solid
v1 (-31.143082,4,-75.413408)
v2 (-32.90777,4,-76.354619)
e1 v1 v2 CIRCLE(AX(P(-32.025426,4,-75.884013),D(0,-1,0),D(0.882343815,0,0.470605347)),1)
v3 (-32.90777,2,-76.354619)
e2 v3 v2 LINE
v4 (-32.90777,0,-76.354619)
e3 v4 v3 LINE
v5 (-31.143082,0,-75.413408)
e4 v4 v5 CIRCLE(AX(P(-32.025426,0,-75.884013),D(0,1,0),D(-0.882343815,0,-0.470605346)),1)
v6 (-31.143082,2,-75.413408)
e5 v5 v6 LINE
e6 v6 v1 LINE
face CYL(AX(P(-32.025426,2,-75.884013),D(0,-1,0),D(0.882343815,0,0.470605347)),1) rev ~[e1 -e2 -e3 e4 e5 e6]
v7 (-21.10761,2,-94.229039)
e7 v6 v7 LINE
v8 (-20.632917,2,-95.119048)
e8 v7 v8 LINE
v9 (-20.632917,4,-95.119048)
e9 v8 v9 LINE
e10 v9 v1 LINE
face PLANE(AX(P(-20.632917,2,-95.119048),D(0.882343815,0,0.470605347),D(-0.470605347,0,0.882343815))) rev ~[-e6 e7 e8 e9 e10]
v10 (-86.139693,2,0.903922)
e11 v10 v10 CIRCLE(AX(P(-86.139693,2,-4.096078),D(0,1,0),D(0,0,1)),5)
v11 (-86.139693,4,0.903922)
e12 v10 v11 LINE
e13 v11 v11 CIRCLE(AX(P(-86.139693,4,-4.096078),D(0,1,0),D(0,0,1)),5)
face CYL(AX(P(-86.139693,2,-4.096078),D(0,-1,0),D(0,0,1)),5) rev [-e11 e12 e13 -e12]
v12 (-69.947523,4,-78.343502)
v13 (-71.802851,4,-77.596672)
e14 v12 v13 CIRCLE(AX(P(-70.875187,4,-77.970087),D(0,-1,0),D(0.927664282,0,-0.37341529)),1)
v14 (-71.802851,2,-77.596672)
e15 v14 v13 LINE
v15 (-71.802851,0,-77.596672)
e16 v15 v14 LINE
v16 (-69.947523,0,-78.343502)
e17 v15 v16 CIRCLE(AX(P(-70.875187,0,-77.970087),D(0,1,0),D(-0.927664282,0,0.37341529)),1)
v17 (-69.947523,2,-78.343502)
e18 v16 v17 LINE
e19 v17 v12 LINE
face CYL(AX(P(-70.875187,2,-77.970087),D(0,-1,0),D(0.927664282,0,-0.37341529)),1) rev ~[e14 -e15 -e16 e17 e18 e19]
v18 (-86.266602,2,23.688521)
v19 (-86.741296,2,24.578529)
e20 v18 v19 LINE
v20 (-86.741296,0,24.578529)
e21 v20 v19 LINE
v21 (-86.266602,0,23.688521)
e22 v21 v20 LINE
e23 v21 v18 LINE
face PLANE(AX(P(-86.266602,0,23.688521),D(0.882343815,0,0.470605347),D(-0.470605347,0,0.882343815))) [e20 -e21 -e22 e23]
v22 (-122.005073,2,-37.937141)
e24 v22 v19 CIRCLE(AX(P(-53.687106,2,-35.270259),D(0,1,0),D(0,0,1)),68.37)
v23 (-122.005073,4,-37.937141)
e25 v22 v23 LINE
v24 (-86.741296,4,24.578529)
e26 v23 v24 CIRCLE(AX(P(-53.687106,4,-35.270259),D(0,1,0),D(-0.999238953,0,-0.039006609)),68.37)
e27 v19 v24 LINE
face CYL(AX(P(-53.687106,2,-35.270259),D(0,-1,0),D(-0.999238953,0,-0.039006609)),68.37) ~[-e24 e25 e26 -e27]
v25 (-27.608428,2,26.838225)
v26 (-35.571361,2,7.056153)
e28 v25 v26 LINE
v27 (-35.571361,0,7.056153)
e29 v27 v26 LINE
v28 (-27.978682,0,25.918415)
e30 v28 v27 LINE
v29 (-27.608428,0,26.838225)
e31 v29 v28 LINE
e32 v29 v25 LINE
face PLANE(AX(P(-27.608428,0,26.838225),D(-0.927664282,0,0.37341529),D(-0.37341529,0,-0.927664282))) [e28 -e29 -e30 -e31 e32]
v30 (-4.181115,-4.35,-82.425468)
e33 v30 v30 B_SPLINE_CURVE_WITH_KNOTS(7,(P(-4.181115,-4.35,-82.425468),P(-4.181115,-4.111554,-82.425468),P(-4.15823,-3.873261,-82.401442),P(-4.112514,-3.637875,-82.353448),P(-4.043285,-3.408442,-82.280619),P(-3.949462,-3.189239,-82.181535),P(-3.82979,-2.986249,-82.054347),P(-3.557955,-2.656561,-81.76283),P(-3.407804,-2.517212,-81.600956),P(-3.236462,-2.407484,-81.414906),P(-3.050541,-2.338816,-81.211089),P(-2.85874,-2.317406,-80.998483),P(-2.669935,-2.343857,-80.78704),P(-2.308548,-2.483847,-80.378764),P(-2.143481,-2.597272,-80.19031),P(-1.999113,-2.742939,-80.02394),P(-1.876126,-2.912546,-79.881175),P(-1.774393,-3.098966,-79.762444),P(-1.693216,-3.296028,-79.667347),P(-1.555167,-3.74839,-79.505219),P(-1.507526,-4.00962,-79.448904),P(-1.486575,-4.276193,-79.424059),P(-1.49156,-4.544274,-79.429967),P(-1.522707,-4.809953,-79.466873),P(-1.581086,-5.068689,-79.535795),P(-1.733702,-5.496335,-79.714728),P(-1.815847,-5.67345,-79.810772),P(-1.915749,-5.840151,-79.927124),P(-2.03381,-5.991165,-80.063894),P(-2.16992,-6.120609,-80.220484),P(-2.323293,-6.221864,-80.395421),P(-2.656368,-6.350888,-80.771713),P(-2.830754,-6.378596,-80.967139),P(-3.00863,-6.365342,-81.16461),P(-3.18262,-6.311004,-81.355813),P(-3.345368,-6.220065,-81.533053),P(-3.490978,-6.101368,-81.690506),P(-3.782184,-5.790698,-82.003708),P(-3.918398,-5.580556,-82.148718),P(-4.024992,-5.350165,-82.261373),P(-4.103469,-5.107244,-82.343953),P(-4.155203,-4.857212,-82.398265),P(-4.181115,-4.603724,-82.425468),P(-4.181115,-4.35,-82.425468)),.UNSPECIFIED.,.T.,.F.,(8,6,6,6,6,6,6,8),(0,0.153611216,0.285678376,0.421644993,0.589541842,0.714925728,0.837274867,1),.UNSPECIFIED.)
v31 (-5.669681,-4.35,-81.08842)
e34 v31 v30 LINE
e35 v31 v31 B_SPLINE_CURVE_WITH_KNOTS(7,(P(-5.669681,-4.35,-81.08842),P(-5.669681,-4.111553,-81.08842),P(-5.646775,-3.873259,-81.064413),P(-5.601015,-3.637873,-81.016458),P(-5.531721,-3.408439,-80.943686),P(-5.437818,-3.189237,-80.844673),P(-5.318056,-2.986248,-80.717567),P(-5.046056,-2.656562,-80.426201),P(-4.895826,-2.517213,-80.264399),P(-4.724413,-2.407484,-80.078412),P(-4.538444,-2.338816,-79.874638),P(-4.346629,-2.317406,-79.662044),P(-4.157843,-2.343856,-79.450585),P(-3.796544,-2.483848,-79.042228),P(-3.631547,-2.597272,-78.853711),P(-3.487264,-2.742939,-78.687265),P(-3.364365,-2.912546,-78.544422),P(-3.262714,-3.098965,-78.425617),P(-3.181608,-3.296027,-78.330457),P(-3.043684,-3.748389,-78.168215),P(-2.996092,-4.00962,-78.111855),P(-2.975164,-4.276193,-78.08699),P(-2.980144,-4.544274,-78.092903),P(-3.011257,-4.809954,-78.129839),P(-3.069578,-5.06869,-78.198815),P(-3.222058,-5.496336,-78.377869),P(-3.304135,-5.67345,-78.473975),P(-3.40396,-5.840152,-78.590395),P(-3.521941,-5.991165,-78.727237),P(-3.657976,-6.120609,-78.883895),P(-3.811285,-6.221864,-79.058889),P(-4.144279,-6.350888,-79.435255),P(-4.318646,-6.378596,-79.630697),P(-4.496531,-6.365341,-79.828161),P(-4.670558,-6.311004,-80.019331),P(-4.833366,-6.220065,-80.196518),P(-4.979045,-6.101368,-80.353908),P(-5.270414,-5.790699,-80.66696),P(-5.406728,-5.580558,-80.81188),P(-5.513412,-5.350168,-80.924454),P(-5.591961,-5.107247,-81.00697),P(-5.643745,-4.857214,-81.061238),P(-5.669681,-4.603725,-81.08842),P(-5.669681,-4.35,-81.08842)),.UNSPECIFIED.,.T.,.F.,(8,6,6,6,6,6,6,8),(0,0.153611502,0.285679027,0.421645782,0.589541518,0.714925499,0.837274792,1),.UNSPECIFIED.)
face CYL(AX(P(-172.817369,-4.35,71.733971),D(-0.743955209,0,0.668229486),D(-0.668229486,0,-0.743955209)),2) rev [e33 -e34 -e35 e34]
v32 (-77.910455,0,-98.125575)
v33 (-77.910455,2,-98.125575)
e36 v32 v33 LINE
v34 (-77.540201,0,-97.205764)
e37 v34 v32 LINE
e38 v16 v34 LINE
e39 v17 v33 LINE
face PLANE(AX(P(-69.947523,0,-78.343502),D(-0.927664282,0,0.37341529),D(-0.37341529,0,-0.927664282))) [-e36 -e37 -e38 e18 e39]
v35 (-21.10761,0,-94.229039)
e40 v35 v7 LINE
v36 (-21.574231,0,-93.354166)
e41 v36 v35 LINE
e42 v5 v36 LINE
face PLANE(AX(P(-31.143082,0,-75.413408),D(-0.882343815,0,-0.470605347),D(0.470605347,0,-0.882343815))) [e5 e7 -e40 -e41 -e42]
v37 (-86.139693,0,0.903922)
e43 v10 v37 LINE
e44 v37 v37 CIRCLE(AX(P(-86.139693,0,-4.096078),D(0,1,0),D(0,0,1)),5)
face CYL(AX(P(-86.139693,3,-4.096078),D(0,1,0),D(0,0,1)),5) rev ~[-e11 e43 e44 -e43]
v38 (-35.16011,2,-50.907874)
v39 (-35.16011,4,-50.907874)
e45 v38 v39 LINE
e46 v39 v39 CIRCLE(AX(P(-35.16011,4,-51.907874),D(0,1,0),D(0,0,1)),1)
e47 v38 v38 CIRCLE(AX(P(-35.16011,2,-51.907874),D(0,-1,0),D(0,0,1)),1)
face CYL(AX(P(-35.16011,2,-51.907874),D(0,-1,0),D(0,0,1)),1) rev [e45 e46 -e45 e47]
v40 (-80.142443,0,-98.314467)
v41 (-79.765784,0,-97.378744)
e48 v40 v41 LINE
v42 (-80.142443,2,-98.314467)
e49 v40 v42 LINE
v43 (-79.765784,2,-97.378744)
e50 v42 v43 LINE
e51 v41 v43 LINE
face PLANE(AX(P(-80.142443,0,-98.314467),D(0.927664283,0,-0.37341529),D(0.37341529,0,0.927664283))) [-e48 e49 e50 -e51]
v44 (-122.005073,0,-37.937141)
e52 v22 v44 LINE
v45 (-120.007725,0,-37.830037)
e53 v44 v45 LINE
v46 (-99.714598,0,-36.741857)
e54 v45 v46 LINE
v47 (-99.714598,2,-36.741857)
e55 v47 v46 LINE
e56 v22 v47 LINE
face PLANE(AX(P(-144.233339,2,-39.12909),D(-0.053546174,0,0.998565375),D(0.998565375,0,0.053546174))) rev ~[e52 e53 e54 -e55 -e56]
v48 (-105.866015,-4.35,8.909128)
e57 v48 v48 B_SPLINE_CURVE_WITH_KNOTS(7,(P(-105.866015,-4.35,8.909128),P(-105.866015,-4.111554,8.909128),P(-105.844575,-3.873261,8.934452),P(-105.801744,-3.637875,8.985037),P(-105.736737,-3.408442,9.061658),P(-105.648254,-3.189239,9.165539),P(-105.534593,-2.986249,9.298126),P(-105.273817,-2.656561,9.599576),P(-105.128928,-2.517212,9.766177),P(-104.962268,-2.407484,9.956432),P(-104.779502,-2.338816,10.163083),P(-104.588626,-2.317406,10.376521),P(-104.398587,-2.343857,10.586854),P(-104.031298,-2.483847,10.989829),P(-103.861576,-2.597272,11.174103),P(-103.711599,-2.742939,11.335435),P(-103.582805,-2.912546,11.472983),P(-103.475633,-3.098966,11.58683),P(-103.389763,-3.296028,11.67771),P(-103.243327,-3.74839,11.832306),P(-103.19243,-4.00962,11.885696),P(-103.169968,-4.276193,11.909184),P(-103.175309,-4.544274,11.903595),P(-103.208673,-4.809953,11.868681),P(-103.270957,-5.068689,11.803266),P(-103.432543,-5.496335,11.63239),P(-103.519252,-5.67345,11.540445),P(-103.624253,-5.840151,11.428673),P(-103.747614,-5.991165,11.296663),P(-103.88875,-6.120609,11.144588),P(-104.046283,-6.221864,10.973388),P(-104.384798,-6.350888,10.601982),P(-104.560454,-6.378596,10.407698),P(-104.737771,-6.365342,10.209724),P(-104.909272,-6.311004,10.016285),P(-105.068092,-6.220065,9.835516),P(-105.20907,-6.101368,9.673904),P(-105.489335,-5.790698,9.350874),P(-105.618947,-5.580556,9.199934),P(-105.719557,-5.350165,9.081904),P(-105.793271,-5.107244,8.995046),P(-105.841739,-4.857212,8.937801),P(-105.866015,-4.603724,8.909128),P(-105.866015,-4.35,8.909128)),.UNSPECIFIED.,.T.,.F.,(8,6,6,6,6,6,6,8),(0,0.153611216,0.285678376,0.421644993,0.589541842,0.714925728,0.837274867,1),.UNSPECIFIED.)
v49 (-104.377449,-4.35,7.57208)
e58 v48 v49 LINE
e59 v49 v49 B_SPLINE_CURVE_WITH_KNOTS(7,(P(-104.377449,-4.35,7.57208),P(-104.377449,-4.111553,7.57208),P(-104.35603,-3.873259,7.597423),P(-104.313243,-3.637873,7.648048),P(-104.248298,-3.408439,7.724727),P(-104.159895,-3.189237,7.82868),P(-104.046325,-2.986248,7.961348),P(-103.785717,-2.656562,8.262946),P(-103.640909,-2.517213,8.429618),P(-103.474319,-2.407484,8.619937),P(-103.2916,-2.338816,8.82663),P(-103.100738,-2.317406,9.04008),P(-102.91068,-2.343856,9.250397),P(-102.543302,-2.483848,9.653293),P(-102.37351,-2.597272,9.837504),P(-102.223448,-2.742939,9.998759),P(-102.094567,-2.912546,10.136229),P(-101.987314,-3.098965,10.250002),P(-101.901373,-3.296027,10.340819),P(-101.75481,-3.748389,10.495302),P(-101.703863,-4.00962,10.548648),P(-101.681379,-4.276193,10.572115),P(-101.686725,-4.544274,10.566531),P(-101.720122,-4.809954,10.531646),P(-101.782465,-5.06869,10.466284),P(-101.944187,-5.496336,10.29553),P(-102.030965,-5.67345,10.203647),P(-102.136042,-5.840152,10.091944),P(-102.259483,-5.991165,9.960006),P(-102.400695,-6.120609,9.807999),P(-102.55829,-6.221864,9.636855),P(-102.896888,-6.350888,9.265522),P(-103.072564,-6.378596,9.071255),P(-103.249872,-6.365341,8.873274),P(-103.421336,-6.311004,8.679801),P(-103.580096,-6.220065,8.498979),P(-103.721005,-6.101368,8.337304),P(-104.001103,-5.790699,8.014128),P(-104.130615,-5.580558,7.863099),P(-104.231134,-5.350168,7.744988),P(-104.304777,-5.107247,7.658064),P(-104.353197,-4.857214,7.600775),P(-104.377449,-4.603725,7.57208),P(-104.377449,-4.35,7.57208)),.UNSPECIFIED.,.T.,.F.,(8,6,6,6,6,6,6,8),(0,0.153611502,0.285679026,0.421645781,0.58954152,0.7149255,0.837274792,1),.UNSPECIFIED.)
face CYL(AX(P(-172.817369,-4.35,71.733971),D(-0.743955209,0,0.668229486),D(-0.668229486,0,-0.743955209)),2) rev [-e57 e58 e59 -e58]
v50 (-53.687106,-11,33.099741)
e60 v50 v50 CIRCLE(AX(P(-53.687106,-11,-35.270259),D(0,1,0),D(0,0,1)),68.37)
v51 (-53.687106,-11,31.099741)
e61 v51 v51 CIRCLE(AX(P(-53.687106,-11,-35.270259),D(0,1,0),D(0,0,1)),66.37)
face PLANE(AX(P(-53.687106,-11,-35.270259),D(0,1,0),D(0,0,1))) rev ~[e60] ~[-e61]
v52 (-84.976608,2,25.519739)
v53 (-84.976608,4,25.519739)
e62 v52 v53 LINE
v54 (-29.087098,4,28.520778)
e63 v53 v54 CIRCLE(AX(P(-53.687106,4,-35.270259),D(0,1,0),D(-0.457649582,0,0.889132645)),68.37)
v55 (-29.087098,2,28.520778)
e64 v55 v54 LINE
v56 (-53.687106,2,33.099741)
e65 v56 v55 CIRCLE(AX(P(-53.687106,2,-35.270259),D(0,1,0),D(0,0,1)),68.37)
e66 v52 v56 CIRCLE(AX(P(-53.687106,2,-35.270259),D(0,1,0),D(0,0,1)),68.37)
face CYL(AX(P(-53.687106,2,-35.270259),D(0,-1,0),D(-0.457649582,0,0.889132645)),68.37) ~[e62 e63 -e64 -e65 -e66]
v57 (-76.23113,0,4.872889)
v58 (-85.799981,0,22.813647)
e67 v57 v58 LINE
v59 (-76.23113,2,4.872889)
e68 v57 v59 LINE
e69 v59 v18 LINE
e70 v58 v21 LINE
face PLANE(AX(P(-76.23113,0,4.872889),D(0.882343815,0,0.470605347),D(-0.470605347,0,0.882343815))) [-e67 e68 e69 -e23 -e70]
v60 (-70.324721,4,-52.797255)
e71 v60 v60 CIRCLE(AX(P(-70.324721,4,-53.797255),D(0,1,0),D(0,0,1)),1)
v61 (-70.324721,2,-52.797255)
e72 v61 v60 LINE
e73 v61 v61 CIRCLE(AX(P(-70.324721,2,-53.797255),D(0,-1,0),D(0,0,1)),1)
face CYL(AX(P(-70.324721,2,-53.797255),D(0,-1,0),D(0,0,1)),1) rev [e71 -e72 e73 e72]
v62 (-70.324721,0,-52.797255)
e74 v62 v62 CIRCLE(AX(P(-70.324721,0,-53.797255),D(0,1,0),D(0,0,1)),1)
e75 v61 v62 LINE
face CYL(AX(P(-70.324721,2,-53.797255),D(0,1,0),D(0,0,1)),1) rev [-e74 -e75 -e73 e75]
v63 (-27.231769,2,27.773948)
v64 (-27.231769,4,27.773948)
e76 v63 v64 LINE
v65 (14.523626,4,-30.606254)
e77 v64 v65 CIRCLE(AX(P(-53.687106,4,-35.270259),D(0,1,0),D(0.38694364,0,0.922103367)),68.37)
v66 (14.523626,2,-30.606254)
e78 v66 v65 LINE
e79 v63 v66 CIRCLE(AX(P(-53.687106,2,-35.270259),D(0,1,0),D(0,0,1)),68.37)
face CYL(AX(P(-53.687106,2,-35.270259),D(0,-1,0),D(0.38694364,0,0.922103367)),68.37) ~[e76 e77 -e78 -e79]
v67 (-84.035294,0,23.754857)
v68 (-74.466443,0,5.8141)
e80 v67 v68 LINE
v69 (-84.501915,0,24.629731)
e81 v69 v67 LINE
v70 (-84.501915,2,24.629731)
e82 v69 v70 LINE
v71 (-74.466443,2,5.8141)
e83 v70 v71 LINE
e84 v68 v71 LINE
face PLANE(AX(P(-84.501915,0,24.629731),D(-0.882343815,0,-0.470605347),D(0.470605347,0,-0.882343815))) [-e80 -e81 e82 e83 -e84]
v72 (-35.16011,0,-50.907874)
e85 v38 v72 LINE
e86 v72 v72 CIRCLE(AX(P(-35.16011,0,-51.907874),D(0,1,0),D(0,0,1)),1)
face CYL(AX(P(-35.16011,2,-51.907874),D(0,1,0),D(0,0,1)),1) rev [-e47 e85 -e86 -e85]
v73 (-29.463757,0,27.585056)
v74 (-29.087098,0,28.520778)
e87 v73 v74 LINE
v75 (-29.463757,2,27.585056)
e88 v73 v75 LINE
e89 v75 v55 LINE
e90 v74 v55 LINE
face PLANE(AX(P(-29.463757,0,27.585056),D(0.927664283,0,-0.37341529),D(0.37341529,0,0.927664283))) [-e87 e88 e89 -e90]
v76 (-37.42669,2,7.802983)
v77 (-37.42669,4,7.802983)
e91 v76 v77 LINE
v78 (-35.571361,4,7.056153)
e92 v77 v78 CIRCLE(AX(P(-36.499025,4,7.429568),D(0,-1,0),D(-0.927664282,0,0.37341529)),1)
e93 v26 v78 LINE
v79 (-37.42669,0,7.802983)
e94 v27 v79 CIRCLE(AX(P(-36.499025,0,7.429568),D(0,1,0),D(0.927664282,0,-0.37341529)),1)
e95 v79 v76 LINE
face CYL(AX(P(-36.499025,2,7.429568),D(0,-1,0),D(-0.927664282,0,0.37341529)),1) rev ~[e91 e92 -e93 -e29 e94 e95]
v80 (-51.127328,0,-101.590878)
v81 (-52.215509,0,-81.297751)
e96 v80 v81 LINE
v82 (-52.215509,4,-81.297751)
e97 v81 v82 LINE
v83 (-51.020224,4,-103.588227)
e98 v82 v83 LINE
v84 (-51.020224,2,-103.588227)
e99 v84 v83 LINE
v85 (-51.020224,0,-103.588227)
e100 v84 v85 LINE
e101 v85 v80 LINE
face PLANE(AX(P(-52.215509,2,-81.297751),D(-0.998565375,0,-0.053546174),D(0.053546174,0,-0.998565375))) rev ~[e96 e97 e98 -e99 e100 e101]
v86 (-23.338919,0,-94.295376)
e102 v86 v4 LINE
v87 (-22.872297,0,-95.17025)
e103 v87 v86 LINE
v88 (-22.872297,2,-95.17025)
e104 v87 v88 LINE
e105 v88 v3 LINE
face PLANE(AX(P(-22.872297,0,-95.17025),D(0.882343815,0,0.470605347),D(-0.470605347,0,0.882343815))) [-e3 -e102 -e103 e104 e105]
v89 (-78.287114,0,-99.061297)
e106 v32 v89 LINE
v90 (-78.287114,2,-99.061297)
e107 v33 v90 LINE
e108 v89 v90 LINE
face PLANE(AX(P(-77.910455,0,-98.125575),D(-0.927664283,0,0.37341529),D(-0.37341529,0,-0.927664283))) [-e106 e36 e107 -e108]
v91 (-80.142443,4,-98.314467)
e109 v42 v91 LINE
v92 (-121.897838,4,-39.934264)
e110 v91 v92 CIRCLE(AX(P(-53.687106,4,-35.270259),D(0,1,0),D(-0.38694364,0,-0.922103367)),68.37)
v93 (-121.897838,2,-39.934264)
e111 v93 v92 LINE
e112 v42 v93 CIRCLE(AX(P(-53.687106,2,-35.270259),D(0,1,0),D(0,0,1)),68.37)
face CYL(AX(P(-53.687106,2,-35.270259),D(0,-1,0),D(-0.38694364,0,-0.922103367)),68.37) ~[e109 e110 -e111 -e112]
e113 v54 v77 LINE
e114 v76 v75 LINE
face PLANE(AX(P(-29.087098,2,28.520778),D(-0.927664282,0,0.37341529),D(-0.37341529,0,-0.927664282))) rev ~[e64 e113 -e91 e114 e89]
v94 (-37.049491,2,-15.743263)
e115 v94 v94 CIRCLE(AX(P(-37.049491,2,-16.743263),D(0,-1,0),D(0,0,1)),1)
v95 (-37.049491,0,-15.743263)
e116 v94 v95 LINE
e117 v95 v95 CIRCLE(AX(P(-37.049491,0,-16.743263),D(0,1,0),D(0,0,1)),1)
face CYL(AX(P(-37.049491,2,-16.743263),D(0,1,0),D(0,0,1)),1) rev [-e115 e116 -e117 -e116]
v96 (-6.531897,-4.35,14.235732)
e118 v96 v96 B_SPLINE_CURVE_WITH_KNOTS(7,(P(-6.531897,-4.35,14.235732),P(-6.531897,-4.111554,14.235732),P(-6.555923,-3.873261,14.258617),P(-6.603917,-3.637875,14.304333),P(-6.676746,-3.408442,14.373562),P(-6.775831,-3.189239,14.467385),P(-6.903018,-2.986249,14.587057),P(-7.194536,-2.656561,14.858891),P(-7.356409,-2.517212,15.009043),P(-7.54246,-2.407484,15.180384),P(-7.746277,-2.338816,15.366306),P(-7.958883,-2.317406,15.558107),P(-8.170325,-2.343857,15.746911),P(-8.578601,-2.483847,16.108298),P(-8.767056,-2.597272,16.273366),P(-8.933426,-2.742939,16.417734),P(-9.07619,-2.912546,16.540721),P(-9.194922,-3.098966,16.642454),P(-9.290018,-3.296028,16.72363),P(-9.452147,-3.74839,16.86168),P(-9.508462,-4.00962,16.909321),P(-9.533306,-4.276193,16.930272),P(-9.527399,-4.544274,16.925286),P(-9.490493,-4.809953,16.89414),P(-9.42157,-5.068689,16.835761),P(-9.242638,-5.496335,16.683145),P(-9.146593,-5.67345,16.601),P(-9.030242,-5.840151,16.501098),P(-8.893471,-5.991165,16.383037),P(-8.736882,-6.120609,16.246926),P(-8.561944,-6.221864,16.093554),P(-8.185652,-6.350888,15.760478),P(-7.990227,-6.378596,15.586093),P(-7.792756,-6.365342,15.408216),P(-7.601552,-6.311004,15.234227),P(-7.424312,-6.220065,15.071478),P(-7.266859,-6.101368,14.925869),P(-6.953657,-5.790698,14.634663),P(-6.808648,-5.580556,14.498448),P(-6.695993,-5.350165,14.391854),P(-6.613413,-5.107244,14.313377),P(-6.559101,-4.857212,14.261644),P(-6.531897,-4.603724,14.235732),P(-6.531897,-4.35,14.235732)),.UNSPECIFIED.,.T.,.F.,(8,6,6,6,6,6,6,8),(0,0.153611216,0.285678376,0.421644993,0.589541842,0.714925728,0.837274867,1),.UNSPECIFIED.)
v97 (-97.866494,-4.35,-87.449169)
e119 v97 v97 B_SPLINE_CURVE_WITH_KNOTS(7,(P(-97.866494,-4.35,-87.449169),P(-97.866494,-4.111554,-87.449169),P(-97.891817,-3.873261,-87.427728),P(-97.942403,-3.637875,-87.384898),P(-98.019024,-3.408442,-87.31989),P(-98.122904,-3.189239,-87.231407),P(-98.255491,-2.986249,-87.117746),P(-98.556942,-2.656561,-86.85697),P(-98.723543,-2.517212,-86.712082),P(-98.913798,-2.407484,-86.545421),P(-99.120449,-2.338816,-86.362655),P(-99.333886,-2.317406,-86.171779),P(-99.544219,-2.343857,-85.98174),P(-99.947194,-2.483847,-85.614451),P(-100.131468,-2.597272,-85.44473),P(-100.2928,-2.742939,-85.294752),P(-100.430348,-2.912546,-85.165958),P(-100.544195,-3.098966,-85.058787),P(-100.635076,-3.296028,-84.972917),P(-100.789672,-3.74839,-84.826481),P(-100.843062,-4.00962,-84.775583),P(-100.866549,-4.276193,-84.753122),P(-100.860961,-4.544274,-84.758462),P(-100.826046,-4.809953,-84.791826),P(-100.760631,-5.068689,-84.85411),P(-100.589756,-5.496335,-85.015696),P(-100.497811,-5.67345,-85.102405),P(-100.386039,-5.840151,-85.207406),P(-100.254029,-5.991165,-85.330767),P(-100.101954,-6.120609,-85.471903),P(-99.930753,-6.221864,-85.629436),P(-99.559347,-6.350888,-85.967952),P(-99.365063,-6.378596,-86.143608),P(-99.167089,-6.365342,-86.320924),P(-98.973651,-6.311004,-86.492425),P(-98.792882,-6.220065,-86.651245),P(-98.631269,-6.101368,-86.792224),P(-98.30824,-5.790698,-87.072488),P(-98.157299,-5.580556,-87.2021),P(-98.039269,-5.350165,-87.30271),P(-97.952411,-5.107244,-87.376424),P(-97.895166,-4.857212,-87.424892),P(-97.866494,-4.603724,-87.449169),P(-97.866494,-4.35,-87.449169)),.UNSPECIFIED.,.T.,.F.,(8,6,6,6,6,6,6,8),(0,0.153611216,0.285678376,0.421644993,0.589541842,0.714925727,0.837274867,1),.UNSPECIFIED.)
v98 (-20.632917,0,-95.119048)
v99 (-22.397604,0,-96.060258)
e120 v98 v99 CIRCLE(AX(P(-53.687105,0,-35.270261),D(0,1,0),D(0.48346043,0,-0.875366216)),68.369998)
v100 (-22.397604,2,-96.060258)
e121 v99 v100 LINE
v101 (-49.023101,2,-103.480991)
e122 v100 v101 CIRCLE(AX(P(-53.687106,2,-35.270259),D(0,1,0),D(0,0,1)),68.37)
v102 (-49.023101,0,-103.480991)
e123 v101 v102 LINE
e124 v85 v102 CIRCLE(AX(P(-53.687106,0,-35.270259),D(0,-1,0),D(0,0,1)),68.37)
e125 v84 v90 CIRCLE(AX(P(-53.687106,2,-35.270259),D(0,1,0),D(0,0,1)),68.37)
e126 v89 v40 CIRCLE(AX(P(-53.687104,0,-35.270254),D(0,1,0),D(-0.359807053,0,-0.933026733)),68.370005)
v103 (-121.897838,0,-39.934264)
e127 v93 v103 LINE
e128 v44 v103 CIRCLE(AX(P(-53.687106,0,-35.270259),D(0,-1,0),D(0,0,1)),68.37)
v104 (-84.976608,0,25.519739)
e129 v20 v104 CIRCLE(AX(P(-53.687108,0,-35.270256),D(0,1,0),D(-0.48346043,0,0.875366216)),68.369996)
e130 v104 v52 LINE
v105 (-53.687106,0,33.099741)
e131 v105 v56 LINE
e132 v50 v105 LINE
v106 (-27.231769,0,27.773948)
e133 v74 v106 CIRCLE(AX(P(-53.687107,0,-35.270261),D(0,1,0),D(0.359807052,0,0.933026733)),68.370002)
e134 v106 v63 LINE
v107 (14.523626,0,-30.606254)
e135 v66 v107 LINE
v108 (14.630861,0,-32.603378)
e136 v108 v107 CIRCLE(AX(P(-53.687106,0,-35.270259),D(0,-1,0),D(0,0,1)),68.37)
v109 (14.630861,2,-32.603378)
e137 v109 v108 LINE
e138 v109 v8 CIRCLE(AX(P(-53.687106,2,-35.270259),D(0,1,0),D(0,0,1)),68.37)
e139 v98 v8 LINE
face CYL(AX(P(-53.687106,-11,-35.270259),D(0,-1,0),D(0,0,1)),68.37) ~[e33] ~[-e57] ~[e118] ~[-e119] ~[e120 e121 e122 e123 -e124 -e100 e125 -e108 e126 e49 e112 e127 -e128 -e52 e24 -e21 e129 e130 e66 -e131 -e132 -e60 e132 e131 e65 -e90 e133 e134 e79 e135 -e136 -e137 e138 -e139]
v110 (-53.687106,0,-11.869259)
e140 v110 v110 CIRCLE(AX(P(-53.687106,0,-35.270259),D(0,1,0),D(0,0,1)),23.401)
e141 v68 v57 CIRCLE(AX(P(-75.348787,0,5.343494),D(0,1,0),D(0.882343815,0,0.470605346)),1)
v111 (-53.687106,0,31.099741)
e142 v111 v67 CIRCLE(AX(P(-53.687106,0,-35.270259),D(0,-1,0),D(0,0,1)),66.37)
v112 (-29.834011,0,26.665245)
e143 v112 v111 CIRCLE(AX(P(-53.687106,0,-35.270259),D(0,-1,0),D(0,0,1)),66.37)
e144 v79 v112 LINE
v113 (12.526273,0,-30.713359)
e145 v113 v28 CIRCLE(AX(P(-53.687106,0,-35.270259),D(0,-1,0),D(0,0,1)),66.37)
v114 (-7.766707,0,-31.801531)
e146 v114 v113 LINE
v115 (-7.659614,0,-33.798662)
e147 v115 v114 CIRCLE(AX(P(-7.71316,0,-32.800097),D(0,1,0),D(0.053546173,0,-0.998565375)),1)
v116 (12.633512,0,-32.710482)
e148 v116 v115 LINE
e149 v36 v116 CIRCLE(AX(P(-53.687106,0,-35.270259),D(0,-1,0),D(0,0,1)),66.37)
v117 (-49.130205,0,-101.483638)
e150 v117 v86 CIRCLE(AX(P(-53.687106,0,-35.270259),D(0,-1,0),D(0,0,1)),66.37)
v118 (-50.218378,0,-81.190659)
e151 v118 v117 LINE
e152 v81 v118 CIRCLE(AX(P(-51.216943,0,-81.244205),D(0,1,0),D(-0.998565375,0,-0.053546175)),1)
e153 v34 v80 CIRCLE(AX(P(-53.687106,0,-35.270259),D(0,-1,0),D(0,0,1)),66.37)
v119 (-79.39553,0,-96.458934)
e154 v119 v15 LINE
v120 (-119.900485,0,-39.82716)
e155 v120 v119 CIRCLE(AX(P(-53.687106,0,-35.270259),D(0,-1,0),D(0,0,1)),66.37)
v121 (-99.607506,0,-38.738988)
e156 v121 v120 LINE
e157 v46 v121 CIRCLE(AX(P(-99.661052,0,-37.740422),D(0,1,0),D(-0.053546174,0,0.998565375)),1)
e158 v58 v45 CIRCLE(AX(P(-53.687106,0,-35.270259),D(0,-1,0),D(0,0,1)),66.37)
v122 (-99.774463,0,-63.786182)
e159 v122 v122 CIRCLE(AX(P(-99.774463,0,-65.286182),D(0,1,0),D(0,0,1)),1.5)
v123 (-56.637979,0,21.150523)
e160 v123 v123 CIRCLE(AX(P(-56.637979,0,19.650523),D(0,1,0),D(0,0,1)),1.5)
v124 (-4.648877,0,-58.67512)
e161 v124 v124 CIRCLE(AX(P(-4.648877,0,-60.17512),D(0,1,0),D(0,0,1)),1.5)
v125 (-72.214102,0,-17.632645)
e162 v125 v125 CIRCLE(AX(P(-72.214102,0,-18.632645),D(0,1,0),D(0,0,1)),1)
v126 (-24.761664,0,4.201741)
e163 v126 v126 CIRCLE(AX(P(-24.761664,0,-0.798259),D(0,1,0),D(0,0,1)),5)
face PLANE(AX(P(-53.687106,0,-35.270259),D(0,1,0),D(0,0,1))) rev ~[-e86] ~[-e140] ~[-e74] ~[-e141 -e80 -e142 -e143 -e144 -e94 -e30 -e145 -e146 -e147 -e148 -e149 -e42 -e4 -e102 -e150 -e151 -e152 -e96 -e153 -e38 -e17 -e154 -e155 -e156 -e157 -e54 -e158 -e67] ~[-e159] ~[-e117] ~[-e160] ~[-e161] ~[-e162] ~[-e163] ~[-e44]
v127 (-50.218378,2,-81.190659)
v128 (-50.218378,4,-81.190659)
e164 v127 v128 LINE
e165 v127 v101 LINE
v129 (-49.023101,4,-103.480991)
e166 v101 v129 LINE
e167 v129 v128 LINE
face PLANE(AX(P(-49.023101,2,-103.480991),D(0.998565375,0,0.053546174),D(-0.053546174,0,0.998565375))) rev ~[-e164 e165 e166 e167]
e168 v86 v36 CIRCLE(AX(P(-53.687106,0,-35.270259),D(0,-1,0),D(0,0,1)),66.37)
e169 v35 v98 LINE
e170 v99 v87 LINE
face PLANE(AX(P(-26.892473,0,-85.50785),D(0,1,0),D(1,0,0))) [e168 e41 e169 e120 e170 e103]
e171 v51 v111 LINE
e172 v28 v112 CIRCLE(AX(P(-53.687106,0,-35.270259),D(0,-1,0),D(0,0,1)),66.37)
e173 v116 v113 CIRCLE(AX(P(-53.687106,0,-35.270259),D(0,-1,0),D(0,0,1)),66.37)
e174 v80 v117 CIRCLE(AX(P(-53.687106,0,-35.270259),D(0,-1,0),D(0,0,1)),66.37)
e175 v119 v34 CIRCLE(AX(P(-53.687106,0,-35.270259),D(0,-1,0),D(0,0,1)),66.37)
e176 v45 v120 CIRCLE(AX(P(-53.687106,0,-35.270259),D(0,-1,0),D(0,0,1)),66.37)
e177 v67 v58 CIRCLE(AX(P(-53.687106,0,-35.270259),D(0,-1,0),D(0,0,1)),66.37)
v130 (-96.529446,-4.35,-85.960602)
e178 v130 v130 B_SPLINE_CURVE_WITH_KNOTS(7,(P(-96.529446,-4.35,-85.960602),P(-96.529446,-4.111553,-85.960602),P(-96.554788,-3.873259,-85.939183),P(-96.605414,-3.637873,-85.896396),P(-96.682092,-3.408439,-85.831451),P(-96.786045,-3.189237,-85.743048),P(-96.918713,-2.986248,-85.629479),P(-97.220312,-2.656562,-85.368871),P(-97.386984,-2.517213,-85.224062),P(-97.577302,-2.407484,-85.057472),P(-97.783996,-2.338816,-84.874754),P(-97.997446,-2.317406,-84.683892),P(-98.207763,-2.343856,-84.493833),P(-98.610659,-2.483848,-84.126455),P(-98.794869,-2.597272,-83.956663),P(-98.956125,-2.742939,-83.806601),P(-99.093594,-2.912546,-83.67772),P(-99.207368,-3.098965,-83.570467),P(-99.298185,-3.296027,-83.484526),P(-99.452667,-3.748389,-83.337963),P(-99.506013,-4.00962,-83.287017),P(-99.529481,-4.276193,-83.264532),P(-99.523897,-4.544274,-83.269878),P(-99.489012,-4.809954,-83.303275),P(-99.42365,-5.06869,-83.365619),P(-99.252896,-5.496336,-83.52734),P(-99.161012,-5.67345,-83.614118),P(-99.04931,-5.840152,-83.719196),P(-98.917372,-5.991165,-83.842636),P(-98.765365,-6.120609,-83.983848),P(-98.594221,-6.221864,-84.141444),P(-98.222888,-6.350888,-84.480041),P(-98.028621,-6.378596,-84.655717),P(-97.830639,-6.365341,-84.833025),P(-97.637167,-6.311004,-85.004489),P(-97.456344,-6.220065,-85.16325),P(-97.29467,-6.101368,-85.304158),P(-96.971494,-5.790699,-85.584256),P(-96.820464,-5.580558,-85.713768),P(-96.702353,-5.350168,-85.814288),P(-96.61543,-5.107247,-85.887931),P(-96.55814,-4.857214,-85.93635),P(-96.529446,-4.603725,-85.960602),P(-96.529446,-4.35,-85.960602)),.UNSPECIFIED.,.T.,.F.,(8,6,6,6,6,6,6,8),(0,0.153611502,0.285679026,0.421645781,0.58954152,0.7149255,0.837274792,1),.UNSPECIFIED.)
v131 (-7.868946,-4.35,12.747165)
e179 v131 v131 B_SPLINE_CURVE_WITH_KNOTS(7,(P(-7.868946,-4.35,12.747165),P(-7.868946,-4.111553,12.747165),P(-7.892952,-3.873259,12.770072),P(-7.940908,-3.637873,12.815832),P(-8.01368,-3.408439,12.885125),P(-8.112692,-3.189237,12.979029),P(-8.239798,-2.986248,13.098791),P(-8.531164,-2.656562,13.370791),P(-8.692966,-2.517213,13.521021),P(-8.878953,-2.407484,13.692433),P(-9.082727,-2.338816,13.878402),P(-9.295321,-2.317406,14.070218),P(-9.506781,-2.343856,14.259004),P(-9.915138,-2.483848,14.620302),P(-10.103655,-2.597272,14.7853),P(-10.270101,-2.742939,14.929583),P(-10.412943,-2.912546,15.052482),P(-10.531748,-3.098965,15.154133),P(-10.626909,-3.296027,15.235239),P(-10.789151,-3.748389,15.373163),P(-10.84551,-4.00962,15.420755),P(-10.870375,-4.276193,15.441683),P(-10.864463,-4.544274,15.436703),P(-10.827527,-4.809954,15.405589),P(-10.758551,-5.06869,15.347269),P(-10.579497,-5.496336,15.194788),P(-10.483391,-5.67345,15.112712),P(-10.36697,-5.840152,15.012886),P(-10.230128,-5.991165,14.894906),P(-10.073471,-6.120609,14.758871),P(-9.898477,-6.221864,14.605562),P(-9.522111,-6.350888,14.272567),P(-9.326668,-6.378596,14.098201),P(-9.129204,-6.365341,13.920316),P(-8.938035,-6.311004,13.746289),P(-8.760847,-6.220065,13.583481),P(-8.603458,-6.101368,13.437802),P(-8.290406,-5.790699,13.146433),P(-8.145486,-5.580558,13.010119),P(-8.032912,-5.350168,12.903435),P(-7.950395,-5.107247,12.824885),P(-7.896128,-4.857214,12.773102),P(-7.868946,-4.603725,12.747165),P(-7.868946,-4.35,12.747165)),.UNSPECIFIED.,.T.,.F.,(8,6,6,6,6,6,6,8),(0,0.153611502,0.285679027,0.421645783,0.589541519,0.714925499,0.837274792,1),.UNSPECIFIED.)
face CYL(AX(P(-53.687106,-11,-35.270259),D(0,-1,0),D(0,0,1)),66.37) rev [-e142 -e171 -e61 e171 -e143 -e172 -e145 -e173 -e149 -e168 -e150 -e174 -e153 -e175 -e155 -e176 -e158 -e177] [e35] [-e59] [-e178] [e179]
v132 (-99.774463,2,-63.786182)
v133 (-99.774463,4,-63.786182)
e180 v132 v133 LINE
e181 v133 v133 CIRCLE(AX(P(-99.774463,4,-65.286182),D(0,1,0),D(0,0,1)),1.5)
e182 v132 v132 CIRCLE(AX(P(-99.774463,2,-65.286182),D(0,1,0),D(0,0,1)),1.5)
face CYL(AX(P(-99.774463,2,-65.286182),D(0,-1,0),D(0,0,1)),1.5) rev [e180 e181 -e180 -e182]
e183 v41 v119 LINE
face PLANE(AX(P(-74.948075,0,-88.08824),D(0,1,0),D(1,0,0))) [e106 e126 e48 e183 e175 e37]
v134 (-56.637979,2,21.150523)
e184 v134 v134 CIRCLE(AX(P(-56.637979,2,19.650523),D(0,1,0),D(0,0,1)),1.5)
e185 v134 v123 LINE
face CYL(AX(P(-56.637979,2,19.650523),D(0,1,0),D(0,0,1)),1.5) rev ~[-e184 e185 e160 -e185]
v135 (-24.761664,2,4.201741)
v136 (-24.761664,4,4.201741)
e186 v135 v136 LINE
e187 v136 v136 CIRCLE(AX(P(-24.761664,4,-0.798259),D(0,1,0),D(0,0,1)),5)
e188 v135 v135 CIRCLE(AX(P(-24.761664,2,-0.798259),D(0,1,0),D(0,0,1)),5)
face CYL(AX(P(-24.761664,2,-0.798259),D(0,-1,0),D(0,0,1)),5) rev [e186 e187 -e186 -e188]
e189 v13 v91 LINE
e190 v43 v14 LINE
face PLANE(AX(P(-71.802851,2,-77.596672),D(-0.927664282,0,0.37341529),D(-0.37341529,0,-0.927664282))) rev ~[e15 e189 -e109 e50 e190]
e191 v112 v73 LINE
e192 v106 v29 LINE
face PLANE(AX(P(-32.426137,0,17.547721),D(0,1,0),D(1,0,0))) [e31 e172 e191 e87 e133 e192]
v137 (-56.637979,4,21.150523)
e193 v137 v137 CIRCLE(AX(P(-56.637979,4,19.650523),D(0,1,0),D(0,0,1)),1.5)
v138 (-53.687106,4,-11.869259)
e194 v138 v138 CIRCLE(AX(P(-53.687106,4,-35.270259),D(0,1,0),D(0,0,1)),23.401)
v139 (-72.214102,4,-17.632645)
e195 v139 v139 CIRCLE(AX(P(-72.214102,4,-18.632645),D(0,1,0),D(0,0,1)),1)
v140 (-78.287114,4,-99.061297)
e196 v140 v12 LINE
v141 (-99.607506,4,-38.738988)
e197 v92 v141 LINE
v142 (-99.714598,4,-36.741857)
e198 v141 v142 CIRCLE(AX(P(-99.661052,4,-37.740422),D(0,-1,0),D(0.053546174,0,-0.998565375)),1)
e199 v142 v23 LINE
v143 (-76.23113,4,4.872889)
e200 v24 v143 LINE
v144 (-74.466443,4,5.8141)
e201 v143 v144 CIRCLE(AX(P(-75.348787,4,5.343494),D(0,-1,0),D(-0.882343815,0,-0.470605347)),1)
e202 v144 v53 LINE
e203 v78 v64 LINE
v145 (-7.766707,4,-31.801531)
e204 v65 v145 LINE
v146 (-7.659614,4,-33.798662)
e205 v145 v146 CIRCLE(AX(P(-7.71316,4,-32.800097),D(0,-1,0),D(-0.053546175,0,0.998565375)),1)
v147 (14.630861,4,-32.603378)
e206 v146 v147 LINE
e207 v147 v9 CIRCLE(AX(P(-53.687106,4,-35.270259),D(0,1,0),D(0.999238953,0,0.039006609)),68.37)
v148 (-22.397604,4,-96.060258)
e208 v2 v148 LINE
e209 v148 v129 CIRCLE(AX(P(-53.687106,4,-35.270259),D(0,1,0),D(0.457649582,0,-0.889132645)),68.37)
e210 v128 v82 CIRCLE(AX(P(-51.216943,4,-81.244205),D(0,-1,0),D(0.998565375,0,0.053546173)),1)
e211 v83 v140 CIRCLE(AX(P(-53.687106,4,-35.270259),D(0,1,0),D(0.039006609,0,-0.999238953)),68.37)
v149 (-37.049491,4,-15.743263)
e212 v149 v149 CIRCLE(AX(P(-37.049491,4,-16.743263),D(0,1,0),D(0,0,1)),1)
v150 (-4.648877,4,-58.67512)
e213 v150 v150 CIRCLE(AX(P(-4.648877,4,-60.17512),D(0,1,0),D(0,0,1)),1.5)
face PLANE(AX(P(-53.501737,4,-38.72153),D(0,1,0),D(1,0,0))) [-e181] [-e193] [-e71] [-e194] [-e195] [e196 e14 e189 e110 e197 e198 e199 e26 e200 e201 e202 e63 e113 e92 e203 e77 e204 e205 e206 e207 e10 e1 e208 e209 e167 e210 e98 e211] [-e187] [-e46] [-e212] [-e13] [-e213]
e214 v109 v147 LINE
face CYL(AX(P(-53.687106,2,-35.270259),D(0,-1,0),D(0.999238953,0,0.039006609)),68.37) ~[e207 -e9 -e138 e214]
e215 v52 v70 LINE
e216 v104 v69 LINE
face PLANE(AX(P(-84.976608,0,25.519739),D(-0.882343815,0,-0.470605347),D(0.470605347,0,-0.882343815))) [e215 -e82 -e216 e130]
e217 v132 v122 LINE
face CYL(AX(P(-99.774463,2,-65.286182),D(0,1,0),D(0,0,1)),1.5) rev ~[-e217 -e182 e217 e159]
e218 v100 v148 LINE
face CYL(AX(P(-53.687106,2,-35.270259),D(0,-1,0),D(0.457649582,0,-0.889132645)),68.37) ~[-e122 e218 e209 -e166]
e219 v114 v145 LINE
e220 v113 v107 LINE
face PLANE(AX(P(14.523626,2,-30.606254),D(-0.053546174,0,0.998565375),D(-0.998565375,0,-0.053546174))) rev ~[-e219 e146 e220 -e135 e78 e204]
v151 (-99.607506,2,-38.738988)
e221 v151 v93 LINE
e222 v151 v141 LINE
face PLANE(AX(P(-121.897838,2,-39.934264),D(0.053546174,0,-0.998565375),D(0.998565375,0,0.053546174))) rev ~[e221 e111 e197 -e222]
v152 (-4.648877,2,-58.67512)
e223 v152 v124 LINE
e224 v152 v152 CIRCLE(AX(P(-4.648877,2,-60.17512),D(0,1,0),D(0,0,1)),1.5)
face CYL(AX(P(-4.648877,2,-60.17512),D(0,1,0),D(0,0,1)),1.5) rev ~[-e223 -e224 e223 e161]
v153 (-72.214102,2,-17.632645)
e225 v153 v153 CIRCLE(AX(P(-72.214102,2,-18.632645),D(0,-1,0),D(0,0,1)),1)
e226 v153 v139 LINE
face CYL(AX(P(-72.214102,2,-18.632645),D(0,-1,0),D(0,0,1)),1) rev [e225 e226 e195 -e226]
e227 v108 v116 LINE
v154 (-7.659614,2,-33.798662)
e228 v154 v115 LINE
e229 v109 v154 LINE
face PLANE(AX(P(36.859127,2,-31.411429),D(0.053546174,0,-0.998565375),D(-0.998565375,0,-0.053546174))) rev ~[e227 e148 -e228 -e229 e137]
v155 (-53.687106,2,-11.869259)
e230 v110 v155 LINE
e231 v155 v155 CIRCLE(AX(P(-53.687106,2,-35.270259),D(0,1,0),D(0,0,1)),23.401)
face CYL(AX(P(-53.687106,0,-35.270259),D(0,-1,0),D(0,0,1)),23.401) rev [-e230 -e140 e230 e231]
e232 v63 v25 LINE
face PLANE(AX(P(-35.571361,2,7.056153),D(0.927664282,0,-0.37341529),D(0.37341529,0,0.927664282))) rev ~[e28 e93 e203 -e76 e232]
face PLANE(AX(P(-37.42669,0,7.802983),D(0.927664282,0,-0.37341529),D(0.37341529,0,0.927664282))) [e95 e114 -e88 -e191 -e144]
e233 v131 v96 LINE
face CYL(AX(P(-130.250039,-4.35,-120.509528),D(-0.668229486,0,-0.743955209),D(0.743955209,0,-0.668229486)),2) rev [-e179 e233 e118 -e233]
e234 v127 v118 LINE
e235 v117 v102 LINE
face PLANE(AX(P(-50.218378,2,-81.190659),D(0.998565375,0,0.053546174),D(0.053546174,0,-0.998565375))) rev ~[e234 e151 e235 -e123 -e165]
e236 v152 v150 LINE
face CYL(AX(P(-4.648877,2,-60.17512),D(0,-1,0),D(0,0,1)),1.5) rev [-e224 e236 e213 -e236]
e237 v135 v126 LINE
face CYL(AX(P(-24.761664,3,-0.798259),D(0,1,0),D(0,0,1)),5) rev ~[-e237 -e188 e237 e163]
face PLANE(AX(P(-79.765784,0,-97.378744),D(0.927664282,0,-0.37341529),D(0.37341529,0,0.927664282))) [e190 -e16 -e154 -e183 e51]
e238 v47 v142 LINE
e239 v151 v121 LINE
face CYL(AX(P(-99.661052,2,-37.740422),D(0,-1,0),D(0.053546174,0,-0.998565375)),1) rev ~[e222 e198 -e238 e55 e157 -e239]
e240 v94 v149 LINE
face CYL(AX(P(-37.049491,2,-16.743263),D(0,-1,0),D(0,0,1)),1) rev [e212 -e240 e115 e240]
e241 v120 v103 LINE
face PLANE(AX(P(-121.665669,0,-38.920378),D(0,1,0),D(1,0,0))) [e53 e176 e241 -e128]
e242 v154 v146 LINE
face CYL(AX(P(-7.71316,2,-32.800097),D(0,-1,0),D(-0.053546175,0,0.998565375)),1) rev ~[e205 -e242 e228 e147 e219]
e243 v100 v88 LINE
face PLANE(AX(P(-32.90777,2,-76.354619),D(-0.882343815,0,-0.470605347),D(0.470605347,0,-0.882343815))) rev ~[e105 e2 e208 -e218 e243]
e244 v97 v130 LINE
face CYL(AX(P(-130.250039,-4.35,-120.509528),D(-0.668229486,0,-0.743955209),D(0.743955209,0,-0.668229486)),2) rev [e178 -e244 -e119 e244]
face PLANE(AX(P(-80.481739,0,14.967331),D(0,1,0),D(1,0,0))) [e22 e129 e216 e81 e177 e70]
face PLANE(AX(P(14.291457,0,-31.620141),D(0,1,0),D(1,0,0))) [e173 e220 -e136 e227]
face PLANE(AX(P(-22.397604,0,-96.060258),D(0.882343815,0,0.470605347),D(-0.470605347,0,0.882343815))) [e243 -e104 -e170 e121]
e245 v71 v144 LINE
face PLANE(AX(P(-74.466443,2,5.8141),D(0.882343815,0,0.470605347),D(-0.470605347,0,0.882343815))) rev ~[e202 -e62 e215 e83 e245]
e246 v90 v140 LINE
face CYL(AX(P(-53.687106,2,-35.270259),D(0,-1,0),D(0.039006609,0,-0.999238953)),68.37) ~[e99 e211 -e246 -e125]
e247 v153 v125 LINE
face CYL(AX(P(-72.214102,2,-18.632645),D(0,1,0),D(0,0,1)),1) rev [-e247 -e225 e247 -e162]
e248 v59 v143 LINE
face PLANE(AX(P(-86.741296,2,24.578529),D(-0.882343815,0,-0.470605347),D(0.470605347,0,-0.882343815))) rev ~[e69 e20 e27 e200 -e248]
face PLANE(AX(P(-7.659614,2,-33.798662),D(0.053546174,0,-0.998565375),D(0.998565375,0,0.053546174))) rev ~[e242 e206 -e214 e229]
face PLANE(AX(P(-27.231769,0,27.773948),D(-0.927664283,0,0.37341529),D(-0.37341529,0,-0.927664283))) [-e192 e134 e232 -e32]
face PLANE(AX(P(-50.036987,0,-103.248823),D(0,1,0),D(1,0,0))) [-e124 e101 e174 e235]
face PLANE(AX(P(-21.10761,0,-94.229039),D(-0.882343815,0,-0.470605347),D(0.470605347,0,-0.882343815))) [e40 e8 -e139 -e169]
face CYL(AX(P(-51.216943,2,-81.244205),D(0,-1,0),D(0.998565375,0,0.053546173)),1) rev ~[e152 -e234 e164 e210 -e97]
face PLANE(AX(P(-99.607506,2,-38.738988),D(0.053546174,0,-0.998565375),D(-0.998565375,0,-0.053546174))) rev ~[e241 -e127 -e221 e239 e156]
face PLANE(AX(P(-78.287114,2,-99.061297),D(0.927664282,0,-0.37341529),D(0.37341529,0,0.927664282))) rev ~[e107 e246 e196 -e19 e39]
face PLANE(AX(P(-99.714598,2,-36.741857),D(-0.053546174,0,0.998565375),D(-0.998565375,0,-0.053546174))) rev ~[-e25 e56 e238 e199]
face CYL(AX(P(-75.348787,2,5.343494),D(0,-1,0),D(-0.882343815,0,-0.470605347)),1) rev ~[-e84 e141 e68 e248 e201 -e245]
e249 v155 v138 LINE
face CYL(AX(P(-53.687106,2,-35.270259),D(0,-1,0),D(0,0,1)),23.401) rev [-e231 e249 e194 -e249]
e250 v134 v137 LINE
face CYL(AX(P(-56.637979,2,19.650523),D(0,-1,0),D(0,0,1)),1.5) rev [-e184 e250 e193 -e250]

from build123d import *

# Parameters (mm, degrees)
SKETCH1_R                = 68.369999998
SKETCH1_R_2              = 23.401
BOSS_EXTRUDE1_DEPTH      = 2
BOSS_EXTRUDE2_START      = -13
SKETCH3_R                = 68.369999998
SKETCH3_R_2              = 66.37
BOSS_EXTRUDE2_DEPTH      = 13
CUT_EXTRUDE40_DEPTH      = 114.575806629
CUT_EXTRUDE40_DEPTH_BACK = 114.575806629
SKETCH63_R               = 2
CUT_EXTRUDE41_DEPTH      = 160.130961581
CUT_EXTRUDE41_DEPTH_BACK = 160.130961581
SKETCH64_R               = 2
CUT_EXTRUDE45_DEPTH      = 2
SKETCH73_R               = 1
CUT_EXTRUDE47_DEPTH      = 10
SKETCH70_R               = 1.5
CUT_EXTRUDE48_DEPTH      = 10
SKETCH74_R               = 5
CUT_EXTRUDE49_DEPTH      = 10
CUT_EXTRUDE51_START      = -2
CUT_EXTRUDE51_DEPTH      = 2
SKETCH80_R               = 5
SKETCH80_R_2             = 1.5
SKETCH80_R_3             = 1
SKETCH80_R_4             = 23.401
BOSS_EXTRUDE4_DEPTH      = 2


with BuildPart() as part:
    # Sketch1 → Boss-Extrude1 (new body)
    with BuildSketch(Plane(origin=(0, 0, 0), x_dir=(-0.9985653746512714, 0, -0.053546172109368295), z_dir=(0, 1, 0))):
        with Locations(Location((55.498672647, -32.344920806, 0), (0, 0, 93.069437642))):
            Circle(SKETCH1_R)
        with Locations(Location((55.498672647, -32.344920806, 0), (0, 0, 93.069437642))):
            Circle(SKETCH1_R_2, mode=Mode.SUBTRACT)
    extrude(amount=BOSS_EXTRUDE1_DEPTH)

    # Sketch3 → Boss-Extrude2 (add)
    with BuildSketch(Plane(origin=(0, 2, 0), x_dir=(1, 0, 0), z_dir=(0, 1, 0)).offset(BOSS_EXTRUDE2_START)):
        with Locations(Location((-53.687106148, 35.27025944, 0), (0, 0, 270))):
            Circle(SKETCH3_R)
        with Locations(Location((-53.687106148, 35.27025944, 0), (0, 0, 270))):
            Circle(SKETCH3_R_2, mode=Mode.SUBTRACT)
    extrude(amount=BOSS_EXTRUDE2_DEPTH)

    # Sketch63 → Cut-Extrude40 (cut, two sides: drawn at the far end of the back side and taken through both)
    with BuildSketch(Plane(origin=(-41.506941316, 0, -46.21062949), x_dir=(0.7439552092791144, 2.284460434874975e-13, -0.6682294864688846), z_dir=(0.6682294864688846, -2.5433421830845933e-13, 0.7439552092791144)).offset(-CUT_EXTRUDE40_DEPTH_BACK)):
        with Locations((-16.372174937, -4.35)):
            Circle(SKETCH63_R)
    extrude(amount=CUT_EXTRUDE40_DEPTH + CUT_EXTRUDE40_DEPTH_BACK, mode=Mode.SUBTRACT)

    # Sketch64 → Cut-Extrude41 (cut, two sides: drawn at the far end of the back side and taken through both)
    with BuildSketch(Plane(origin=(-12.180164832, 0, 10.94037005), x_dir=(-0.668229486468876, 1.5883353274739987e-15, -0.743955209279122), z_dir=(0.743955209279122, -1.7683301393964735e-15, -0.668229486468876)).offset(-CUT_EXTRUDE41_DEPTH_BACK)):
        with Locations((62.114800614, -4.35)):
            Circle(SKETCH64_R)
    extrude(amount=CUT_EXTRUDE41_DEPTH + CUT_EXTRUDE41_DEPTH_BACK, mode=Mode.SUBTRACT)

    # Sketch67 → Cut-Extrude45 (cut)
    with BuildSketch(Plane(origin=(0, 2, 0), x_dir=(1, 0, 0), z_dir=(0, 1, 0))):
        with BuildLine():
            Line((-47.831144931, 125.709400378), (-49.82827568, 125.816492726))
            Line((-49.82827568, 125.816492726), (-52.215508738, 81.297751413))
            ThreePointArc((-52.215508738, 81.297751413), (-51.270489538, 80.245639864), (-50.218377989, 81.190659065))
            Line((-50.218377989, 81.190659065), (-47.831144931, 125.709400378))
        make_face()
        with BuildLine():
            Line((-144.126247086, 41.126220657), (-144.233339434, 39.129089908))
            Line((-144.233339434, 39.129089908), (-99.714598121, 36.741856849))
            ThreePointArc((-99.714598121, 36.741856849), (-98.662486572, 37.68687605), (-99.607505773, 38.738987598))
            Line((-99.607505773, 38.738987598), (-144.126247086, 41.126220657))
        make_face()
        with BuildLine():
            Line((36.75203479, 29.414298222), (36.859127139, 31.411428971))
            Line((36.859127139, 31.411428971), (-7.659614175, 33.79866203))
            ThreePointArc((-7.659614175, 33.79866203), (-8.711725723, 32.853642829), (-7.766706523, 31.801531281))
            Line((-7.766706523, 31.801531281), (36.75203479, 29.414298222))
        make_face()
    extrude(amount=-CUT_EXTRUDE45_DEPTH, mode=Mode.SUBTRACT)

    # Sketch73 → Cut-Extrude47 (cut)
    with BuildSketch(Plane.XZ.offset(-2)):
        with Locations(Location((-72.2141021, -18.632644766, 0), (0, 0, 90))):
            Circle(SKETCH73_R)
        with Locations(Location((-37.049491474, -16.743263487, 0), (0, 0, 90))):
            Circle(SKETCH73_R)
        with Locations(Location((-35.160110195, -51.907874114, 0), (0, 0, 90))):
            Circle(SKETCH73_R)
        with Locations(Location((-70.324720822, -53.797255392, 0), (0, 0, 90))):
            Circle(SKETCH73_R)
    extrude(amount=CUT_EXTRUDE47_DEPTH, mode=Mode.SUBTRACT)

    # Sketch70 → Cut-Extrude48 (cut)
    with BuildSketch(Plane(origin=(0, 2, 0), x_dir=(1, 0, 0), z_dir=(0, 1, 0))):
        with Locations(Location((-99.774462502, 65.286181619, 0), (0, 0, 270))):
            Circle(SKETCH70_R)
        with Locations(Location((-56.637979096, -19.650523046, 0), (0, 0, 270))):
            Circle(SKETCH70_R)
        with Locations(Location((-4.648876845, 60.175119746, 0), (0, 0, 270))):
            Circle(SKETCH70_R)
    extrude(amount=-CUT_EXTRUDE48_DEPTH, mode=Mode.SUBTRACT)

    # Sketch74 → Cut-Extrude49 (cut)
    with BuildSketch(Plane(origin=(19.562495047, 3, -2.053609117), x_dir=(1, 0, 0), z_dir=(0, 1, 0))):
        with Locations(Location((-105.702188225, 2.042468777, 0), (0, 0, 270))):
            Circle(SKETCH74_R)
        with Locations(Location((-44.324158759, -1.255349618, 0), (0, 0, 270))):
            Circle(SKETCH74_R)
    extrude(amount=-CUT_EXTRUDE49_DEPTH, mode=Mode.SUBTRACT)

    # Sketch75 → Cut-Extrude51 (cut)
    with BuildSketch(Plane(origin=(0, 2, 0), x_dir=(1, 0, 0), z_dir=(0, 1, 0)).offset(CUT_EXTRUDE51_START)):
        with BuildLine():
            ThreePointArc((-78.28711428, 99.061297209), (-79.21750955, 98.694666428), (-80.142442845, 98.314466628))
            Line((-80.142442845, 98.314466628), (-79.765783898, 97.378744227))
            Line((-79.765783898, 97.378744227), (-71.802851111, 77.596671772))
            ThreePointArc((-71.802851111, 77.596671772), (-70.501771538, 77.04242278), (-69.947522546, 78.343502353))
            Line((-69.947522546, 78.343502353), (-77.910455333, 98.125574808))
            Line((-77.910455333, 98.125574808), (-78.28711428, 99.061297209))
        make_face()
        with BuildLine():
            Line((-21.107609811, 94.229039398), (-20.63291657, 95.119047657))
            ThreePointArc((-20.63291657, 95.119047657), (-21.511818593, 95.596106061), (-22.397604199, 96.060258351))
            Line((-22.397604199, 96.060258351), (-22.872297441, 95.170250092))
            Line((-22.872297441, 95.170250092), (-32.907769586, 76.354618611))
            ThreePointArc((-32.907769586, 76.354618611), (-32.496031118, 75.00166945), (-31.143081956, 75.413407918))
            Line((-31.143081956, 75.413407918), (-21.107609811, 94.229039398))
        make_face()
        with BuildLine():
            Line((-76.23113034, -4.872889039), (-86.266602485, -23.688520519))
            Line((-86.266602485, -23.688520519), (-86.741295726, -24.578528778))
            ThreePointArc((-86.741295726, -24.578528778), (-85.862393702, -25.055587182), (-84.976608096, -25.519739471))
            Line((-84.976608096, -25.519739471), (-84.501914855, -24.629731212))
            Line((-84.501914855, -24.629731212), (-74.46644271, -5.814099732))
            ThreePointArc((-74.46644271, -5.814099732), (-74.878181178, -4.461150571), (-76.23113034, -4.872889039))
        make_face()
        with BuildLine():
            Line((-29.463756963, -27.585055929), (-29.087098016, -28.52077833))
            ThreePointArc((-29.087098016, -28.52077833), (-28.156702745, -28.154147549), (-27.231769451, -27.773947749))
            Line((-27.231769451, -27.773947749), (-27.608428398, -26.838225348))
            Line((-27.608428398, -26.838225348), (-35.571361185, -7.056152893))
            ThreePointArc((-35.571361185, -7.056152893), (-36.872440758, -6.501903901), (-37.42668975, -7.802983474))
            Line((-37.42668975, -7.802983474), (-29.463756963, -27.585055929))
        make_face()
    extrude(amount=CUT_EXTRUDE51_DEPTH, mode=Mode.SUBTRACT)

    # Sketch80 → Boss-Extrude4 (add)
    with BuildSketch(Plane(origin=(0, 2, 0), x_dir=(1, 0, 0), z_dir=(0, 1, 0))):
        with BuildLine():
            Line((-29.087098016, -28.52077833), (-37.42668975, -7.802983474))
            ThreePointArc((-37.42668975, -7.802983474), (-36.872440758, -6.501903901), (-35.571361185, -7.056152893))
            Line((-35.571361185, -7.056152893), (-27.231769451, -27.773947749))
            ThreePointArc((-27.231769451, -27.773947749), (1.922948187, -4.503837114), (14.523625835, 30.606254489))
            Line((14.523625835, 30.606254489), (-7.766706523, 31.801531281))
            ThreePointArc((-7.766706523, 31.801531281), (-8.711725723, 32.853642829), (-7.659614175, 33.79866203))
            Line((-7.659614175, 33.79866203), (14.630861042, 32.603377578))
            ThreePointArc((14.630861042, 32.603377578), (5.862291778, 68.860825176), (-20.63291657, 95.119047657))
            Line((-20.63291657, 95.119047657), (-31.143081956, 75.413407918))
            ThreePointArc((-31.143081956, 75.413407918), (-32.496031118, 75.00166945), (-32.907769586, 76.354618611))
            Line((-32.907769586, 76.354618611), (-22.397604199, 96.060258351))
            ThreePointArc((-22.397604199, 96.060258351), (-35.331439872, 101.130159344), (-49.023101197, 103.480991422))
            Line((-49.023101197, 103.480991422), (-50.218377989, 81.190659065))
            ThreePointArc((-50.218377989, 81.190659065), (-51.270489538, 80.245639864), (-52.215508738, 81.297751413))
            Line((-52.215508738, 81.297751413), (-51.020224286, 103.588226629))
            ThreePointArc((-51.020224286, 103.588226629), (-64.884819285, 102.71703935), (-78.28711428, 99.061297209))
            Line((-78.28711428, 99.061297209), (-69.947522546, 78.343502353))
            ThreePointArc((-69.947522546, 78.343502353), (-70.501771538, 77.04242278), (-71.802851111, 77.596671772))
            Line((-71.802851111, 77.596671772), (-80.142442845, 98.314466628))
            ThreePointArc((-80.142442845, 98.314466628), (-109.297160483, 75.044355993), (-121.89783813, 39.93426439))
            Line((-121.89783813, 39.93426439), (-99.607505773, 38.738987598))
            ThreePointArc((-99.607505773, 38.738987598), (-98.662486572, 37.68687605), (-99.714598121, 36.741856849))
            Line((-99.714598121, 36.741856849), (-122.005073337, 37.937141302))
            ThreePointArc((-122.005073337, 37.937141302), (-113.236504074, 1.679693704), (-86.741295726, -24.578528778))
            Line((-86.741295726, -24.578528778), (-76.23113034, -4.872889039))
            ThreePointArc((-76.23113034, -4.872889039), (-74.878181178, -4.461150571), (-74.46644271, -5.814099732))
            Line((-74.46644271, -5.814099732), (-84.976608096, -25.519739471))
            ThreePointArc((-84.976608096, -25.519739471), (-57.353015371, -33.00138921), (-29.087098016, -28.52077833))
        make_face()
        with Locations(Location((-86.139693179, 4.096077895, 0), (0, 0, 270))):
            Circle(SKETCH80_R, mode=Mode.SUBTRACT)
        with Locations(Location((-99.774462502, 65.286181619, 0), (0, 0, 270))):
            Circle(SKETCH80_R_2, mode=Mode.SUBTRACT)
        with Locations(Location((-35.160110195, 51.907874114, 0), (0, 0, 270))):
            Circle(SKETCH80_R_3, mode=Mode.SUBTRACT)
        with Locations(Location((-53.687106148, 35.27025944, 0), (0, 0, 270))):
            Circle(SKETCH80_R_4, mode=Mode.SUBTRACT)
        with Locations(Location((-70.324720822, 53.797255392, 0), (0, 0, 270))):
            Circle(SKETCH80_R_3, mode=Mode.SUBTRACT)
        with Locations(Location((-37.049491474, 16.743263487, 0), (0, 0, 270))):
            Circle(SKETCH80_R_3, mode=Mode.SUBTRACT)
        with Locations(Location((-72.2141021, 18.632644766, 0), (0, 0, 270))):
            Circle(SKETCH80_R_3, mode=Mode.SUBTRACT)
        with Locations(Location((-56.637979096, -19.650523046, 0), (0, 0, 270))):
            Circle(SKETCH80_R_2, mode=Mode.SUBTRACT)
        with Locations(Location((-4.648876845, 60.175119746, 0), (0, 0, 270))):
            Circle(SKETCH80_R_2, mode=Mode.SUBTRACT)
        with Locations(Location((-24.761663712, 0.798259499, 0), (0, 0, 270))):
            Circle(SKETCH80_R, mode=Mode.SUBTRACT)
    extrude(amount=BOSS_EXTRUDE4_DEPTH)


solid = part.part
